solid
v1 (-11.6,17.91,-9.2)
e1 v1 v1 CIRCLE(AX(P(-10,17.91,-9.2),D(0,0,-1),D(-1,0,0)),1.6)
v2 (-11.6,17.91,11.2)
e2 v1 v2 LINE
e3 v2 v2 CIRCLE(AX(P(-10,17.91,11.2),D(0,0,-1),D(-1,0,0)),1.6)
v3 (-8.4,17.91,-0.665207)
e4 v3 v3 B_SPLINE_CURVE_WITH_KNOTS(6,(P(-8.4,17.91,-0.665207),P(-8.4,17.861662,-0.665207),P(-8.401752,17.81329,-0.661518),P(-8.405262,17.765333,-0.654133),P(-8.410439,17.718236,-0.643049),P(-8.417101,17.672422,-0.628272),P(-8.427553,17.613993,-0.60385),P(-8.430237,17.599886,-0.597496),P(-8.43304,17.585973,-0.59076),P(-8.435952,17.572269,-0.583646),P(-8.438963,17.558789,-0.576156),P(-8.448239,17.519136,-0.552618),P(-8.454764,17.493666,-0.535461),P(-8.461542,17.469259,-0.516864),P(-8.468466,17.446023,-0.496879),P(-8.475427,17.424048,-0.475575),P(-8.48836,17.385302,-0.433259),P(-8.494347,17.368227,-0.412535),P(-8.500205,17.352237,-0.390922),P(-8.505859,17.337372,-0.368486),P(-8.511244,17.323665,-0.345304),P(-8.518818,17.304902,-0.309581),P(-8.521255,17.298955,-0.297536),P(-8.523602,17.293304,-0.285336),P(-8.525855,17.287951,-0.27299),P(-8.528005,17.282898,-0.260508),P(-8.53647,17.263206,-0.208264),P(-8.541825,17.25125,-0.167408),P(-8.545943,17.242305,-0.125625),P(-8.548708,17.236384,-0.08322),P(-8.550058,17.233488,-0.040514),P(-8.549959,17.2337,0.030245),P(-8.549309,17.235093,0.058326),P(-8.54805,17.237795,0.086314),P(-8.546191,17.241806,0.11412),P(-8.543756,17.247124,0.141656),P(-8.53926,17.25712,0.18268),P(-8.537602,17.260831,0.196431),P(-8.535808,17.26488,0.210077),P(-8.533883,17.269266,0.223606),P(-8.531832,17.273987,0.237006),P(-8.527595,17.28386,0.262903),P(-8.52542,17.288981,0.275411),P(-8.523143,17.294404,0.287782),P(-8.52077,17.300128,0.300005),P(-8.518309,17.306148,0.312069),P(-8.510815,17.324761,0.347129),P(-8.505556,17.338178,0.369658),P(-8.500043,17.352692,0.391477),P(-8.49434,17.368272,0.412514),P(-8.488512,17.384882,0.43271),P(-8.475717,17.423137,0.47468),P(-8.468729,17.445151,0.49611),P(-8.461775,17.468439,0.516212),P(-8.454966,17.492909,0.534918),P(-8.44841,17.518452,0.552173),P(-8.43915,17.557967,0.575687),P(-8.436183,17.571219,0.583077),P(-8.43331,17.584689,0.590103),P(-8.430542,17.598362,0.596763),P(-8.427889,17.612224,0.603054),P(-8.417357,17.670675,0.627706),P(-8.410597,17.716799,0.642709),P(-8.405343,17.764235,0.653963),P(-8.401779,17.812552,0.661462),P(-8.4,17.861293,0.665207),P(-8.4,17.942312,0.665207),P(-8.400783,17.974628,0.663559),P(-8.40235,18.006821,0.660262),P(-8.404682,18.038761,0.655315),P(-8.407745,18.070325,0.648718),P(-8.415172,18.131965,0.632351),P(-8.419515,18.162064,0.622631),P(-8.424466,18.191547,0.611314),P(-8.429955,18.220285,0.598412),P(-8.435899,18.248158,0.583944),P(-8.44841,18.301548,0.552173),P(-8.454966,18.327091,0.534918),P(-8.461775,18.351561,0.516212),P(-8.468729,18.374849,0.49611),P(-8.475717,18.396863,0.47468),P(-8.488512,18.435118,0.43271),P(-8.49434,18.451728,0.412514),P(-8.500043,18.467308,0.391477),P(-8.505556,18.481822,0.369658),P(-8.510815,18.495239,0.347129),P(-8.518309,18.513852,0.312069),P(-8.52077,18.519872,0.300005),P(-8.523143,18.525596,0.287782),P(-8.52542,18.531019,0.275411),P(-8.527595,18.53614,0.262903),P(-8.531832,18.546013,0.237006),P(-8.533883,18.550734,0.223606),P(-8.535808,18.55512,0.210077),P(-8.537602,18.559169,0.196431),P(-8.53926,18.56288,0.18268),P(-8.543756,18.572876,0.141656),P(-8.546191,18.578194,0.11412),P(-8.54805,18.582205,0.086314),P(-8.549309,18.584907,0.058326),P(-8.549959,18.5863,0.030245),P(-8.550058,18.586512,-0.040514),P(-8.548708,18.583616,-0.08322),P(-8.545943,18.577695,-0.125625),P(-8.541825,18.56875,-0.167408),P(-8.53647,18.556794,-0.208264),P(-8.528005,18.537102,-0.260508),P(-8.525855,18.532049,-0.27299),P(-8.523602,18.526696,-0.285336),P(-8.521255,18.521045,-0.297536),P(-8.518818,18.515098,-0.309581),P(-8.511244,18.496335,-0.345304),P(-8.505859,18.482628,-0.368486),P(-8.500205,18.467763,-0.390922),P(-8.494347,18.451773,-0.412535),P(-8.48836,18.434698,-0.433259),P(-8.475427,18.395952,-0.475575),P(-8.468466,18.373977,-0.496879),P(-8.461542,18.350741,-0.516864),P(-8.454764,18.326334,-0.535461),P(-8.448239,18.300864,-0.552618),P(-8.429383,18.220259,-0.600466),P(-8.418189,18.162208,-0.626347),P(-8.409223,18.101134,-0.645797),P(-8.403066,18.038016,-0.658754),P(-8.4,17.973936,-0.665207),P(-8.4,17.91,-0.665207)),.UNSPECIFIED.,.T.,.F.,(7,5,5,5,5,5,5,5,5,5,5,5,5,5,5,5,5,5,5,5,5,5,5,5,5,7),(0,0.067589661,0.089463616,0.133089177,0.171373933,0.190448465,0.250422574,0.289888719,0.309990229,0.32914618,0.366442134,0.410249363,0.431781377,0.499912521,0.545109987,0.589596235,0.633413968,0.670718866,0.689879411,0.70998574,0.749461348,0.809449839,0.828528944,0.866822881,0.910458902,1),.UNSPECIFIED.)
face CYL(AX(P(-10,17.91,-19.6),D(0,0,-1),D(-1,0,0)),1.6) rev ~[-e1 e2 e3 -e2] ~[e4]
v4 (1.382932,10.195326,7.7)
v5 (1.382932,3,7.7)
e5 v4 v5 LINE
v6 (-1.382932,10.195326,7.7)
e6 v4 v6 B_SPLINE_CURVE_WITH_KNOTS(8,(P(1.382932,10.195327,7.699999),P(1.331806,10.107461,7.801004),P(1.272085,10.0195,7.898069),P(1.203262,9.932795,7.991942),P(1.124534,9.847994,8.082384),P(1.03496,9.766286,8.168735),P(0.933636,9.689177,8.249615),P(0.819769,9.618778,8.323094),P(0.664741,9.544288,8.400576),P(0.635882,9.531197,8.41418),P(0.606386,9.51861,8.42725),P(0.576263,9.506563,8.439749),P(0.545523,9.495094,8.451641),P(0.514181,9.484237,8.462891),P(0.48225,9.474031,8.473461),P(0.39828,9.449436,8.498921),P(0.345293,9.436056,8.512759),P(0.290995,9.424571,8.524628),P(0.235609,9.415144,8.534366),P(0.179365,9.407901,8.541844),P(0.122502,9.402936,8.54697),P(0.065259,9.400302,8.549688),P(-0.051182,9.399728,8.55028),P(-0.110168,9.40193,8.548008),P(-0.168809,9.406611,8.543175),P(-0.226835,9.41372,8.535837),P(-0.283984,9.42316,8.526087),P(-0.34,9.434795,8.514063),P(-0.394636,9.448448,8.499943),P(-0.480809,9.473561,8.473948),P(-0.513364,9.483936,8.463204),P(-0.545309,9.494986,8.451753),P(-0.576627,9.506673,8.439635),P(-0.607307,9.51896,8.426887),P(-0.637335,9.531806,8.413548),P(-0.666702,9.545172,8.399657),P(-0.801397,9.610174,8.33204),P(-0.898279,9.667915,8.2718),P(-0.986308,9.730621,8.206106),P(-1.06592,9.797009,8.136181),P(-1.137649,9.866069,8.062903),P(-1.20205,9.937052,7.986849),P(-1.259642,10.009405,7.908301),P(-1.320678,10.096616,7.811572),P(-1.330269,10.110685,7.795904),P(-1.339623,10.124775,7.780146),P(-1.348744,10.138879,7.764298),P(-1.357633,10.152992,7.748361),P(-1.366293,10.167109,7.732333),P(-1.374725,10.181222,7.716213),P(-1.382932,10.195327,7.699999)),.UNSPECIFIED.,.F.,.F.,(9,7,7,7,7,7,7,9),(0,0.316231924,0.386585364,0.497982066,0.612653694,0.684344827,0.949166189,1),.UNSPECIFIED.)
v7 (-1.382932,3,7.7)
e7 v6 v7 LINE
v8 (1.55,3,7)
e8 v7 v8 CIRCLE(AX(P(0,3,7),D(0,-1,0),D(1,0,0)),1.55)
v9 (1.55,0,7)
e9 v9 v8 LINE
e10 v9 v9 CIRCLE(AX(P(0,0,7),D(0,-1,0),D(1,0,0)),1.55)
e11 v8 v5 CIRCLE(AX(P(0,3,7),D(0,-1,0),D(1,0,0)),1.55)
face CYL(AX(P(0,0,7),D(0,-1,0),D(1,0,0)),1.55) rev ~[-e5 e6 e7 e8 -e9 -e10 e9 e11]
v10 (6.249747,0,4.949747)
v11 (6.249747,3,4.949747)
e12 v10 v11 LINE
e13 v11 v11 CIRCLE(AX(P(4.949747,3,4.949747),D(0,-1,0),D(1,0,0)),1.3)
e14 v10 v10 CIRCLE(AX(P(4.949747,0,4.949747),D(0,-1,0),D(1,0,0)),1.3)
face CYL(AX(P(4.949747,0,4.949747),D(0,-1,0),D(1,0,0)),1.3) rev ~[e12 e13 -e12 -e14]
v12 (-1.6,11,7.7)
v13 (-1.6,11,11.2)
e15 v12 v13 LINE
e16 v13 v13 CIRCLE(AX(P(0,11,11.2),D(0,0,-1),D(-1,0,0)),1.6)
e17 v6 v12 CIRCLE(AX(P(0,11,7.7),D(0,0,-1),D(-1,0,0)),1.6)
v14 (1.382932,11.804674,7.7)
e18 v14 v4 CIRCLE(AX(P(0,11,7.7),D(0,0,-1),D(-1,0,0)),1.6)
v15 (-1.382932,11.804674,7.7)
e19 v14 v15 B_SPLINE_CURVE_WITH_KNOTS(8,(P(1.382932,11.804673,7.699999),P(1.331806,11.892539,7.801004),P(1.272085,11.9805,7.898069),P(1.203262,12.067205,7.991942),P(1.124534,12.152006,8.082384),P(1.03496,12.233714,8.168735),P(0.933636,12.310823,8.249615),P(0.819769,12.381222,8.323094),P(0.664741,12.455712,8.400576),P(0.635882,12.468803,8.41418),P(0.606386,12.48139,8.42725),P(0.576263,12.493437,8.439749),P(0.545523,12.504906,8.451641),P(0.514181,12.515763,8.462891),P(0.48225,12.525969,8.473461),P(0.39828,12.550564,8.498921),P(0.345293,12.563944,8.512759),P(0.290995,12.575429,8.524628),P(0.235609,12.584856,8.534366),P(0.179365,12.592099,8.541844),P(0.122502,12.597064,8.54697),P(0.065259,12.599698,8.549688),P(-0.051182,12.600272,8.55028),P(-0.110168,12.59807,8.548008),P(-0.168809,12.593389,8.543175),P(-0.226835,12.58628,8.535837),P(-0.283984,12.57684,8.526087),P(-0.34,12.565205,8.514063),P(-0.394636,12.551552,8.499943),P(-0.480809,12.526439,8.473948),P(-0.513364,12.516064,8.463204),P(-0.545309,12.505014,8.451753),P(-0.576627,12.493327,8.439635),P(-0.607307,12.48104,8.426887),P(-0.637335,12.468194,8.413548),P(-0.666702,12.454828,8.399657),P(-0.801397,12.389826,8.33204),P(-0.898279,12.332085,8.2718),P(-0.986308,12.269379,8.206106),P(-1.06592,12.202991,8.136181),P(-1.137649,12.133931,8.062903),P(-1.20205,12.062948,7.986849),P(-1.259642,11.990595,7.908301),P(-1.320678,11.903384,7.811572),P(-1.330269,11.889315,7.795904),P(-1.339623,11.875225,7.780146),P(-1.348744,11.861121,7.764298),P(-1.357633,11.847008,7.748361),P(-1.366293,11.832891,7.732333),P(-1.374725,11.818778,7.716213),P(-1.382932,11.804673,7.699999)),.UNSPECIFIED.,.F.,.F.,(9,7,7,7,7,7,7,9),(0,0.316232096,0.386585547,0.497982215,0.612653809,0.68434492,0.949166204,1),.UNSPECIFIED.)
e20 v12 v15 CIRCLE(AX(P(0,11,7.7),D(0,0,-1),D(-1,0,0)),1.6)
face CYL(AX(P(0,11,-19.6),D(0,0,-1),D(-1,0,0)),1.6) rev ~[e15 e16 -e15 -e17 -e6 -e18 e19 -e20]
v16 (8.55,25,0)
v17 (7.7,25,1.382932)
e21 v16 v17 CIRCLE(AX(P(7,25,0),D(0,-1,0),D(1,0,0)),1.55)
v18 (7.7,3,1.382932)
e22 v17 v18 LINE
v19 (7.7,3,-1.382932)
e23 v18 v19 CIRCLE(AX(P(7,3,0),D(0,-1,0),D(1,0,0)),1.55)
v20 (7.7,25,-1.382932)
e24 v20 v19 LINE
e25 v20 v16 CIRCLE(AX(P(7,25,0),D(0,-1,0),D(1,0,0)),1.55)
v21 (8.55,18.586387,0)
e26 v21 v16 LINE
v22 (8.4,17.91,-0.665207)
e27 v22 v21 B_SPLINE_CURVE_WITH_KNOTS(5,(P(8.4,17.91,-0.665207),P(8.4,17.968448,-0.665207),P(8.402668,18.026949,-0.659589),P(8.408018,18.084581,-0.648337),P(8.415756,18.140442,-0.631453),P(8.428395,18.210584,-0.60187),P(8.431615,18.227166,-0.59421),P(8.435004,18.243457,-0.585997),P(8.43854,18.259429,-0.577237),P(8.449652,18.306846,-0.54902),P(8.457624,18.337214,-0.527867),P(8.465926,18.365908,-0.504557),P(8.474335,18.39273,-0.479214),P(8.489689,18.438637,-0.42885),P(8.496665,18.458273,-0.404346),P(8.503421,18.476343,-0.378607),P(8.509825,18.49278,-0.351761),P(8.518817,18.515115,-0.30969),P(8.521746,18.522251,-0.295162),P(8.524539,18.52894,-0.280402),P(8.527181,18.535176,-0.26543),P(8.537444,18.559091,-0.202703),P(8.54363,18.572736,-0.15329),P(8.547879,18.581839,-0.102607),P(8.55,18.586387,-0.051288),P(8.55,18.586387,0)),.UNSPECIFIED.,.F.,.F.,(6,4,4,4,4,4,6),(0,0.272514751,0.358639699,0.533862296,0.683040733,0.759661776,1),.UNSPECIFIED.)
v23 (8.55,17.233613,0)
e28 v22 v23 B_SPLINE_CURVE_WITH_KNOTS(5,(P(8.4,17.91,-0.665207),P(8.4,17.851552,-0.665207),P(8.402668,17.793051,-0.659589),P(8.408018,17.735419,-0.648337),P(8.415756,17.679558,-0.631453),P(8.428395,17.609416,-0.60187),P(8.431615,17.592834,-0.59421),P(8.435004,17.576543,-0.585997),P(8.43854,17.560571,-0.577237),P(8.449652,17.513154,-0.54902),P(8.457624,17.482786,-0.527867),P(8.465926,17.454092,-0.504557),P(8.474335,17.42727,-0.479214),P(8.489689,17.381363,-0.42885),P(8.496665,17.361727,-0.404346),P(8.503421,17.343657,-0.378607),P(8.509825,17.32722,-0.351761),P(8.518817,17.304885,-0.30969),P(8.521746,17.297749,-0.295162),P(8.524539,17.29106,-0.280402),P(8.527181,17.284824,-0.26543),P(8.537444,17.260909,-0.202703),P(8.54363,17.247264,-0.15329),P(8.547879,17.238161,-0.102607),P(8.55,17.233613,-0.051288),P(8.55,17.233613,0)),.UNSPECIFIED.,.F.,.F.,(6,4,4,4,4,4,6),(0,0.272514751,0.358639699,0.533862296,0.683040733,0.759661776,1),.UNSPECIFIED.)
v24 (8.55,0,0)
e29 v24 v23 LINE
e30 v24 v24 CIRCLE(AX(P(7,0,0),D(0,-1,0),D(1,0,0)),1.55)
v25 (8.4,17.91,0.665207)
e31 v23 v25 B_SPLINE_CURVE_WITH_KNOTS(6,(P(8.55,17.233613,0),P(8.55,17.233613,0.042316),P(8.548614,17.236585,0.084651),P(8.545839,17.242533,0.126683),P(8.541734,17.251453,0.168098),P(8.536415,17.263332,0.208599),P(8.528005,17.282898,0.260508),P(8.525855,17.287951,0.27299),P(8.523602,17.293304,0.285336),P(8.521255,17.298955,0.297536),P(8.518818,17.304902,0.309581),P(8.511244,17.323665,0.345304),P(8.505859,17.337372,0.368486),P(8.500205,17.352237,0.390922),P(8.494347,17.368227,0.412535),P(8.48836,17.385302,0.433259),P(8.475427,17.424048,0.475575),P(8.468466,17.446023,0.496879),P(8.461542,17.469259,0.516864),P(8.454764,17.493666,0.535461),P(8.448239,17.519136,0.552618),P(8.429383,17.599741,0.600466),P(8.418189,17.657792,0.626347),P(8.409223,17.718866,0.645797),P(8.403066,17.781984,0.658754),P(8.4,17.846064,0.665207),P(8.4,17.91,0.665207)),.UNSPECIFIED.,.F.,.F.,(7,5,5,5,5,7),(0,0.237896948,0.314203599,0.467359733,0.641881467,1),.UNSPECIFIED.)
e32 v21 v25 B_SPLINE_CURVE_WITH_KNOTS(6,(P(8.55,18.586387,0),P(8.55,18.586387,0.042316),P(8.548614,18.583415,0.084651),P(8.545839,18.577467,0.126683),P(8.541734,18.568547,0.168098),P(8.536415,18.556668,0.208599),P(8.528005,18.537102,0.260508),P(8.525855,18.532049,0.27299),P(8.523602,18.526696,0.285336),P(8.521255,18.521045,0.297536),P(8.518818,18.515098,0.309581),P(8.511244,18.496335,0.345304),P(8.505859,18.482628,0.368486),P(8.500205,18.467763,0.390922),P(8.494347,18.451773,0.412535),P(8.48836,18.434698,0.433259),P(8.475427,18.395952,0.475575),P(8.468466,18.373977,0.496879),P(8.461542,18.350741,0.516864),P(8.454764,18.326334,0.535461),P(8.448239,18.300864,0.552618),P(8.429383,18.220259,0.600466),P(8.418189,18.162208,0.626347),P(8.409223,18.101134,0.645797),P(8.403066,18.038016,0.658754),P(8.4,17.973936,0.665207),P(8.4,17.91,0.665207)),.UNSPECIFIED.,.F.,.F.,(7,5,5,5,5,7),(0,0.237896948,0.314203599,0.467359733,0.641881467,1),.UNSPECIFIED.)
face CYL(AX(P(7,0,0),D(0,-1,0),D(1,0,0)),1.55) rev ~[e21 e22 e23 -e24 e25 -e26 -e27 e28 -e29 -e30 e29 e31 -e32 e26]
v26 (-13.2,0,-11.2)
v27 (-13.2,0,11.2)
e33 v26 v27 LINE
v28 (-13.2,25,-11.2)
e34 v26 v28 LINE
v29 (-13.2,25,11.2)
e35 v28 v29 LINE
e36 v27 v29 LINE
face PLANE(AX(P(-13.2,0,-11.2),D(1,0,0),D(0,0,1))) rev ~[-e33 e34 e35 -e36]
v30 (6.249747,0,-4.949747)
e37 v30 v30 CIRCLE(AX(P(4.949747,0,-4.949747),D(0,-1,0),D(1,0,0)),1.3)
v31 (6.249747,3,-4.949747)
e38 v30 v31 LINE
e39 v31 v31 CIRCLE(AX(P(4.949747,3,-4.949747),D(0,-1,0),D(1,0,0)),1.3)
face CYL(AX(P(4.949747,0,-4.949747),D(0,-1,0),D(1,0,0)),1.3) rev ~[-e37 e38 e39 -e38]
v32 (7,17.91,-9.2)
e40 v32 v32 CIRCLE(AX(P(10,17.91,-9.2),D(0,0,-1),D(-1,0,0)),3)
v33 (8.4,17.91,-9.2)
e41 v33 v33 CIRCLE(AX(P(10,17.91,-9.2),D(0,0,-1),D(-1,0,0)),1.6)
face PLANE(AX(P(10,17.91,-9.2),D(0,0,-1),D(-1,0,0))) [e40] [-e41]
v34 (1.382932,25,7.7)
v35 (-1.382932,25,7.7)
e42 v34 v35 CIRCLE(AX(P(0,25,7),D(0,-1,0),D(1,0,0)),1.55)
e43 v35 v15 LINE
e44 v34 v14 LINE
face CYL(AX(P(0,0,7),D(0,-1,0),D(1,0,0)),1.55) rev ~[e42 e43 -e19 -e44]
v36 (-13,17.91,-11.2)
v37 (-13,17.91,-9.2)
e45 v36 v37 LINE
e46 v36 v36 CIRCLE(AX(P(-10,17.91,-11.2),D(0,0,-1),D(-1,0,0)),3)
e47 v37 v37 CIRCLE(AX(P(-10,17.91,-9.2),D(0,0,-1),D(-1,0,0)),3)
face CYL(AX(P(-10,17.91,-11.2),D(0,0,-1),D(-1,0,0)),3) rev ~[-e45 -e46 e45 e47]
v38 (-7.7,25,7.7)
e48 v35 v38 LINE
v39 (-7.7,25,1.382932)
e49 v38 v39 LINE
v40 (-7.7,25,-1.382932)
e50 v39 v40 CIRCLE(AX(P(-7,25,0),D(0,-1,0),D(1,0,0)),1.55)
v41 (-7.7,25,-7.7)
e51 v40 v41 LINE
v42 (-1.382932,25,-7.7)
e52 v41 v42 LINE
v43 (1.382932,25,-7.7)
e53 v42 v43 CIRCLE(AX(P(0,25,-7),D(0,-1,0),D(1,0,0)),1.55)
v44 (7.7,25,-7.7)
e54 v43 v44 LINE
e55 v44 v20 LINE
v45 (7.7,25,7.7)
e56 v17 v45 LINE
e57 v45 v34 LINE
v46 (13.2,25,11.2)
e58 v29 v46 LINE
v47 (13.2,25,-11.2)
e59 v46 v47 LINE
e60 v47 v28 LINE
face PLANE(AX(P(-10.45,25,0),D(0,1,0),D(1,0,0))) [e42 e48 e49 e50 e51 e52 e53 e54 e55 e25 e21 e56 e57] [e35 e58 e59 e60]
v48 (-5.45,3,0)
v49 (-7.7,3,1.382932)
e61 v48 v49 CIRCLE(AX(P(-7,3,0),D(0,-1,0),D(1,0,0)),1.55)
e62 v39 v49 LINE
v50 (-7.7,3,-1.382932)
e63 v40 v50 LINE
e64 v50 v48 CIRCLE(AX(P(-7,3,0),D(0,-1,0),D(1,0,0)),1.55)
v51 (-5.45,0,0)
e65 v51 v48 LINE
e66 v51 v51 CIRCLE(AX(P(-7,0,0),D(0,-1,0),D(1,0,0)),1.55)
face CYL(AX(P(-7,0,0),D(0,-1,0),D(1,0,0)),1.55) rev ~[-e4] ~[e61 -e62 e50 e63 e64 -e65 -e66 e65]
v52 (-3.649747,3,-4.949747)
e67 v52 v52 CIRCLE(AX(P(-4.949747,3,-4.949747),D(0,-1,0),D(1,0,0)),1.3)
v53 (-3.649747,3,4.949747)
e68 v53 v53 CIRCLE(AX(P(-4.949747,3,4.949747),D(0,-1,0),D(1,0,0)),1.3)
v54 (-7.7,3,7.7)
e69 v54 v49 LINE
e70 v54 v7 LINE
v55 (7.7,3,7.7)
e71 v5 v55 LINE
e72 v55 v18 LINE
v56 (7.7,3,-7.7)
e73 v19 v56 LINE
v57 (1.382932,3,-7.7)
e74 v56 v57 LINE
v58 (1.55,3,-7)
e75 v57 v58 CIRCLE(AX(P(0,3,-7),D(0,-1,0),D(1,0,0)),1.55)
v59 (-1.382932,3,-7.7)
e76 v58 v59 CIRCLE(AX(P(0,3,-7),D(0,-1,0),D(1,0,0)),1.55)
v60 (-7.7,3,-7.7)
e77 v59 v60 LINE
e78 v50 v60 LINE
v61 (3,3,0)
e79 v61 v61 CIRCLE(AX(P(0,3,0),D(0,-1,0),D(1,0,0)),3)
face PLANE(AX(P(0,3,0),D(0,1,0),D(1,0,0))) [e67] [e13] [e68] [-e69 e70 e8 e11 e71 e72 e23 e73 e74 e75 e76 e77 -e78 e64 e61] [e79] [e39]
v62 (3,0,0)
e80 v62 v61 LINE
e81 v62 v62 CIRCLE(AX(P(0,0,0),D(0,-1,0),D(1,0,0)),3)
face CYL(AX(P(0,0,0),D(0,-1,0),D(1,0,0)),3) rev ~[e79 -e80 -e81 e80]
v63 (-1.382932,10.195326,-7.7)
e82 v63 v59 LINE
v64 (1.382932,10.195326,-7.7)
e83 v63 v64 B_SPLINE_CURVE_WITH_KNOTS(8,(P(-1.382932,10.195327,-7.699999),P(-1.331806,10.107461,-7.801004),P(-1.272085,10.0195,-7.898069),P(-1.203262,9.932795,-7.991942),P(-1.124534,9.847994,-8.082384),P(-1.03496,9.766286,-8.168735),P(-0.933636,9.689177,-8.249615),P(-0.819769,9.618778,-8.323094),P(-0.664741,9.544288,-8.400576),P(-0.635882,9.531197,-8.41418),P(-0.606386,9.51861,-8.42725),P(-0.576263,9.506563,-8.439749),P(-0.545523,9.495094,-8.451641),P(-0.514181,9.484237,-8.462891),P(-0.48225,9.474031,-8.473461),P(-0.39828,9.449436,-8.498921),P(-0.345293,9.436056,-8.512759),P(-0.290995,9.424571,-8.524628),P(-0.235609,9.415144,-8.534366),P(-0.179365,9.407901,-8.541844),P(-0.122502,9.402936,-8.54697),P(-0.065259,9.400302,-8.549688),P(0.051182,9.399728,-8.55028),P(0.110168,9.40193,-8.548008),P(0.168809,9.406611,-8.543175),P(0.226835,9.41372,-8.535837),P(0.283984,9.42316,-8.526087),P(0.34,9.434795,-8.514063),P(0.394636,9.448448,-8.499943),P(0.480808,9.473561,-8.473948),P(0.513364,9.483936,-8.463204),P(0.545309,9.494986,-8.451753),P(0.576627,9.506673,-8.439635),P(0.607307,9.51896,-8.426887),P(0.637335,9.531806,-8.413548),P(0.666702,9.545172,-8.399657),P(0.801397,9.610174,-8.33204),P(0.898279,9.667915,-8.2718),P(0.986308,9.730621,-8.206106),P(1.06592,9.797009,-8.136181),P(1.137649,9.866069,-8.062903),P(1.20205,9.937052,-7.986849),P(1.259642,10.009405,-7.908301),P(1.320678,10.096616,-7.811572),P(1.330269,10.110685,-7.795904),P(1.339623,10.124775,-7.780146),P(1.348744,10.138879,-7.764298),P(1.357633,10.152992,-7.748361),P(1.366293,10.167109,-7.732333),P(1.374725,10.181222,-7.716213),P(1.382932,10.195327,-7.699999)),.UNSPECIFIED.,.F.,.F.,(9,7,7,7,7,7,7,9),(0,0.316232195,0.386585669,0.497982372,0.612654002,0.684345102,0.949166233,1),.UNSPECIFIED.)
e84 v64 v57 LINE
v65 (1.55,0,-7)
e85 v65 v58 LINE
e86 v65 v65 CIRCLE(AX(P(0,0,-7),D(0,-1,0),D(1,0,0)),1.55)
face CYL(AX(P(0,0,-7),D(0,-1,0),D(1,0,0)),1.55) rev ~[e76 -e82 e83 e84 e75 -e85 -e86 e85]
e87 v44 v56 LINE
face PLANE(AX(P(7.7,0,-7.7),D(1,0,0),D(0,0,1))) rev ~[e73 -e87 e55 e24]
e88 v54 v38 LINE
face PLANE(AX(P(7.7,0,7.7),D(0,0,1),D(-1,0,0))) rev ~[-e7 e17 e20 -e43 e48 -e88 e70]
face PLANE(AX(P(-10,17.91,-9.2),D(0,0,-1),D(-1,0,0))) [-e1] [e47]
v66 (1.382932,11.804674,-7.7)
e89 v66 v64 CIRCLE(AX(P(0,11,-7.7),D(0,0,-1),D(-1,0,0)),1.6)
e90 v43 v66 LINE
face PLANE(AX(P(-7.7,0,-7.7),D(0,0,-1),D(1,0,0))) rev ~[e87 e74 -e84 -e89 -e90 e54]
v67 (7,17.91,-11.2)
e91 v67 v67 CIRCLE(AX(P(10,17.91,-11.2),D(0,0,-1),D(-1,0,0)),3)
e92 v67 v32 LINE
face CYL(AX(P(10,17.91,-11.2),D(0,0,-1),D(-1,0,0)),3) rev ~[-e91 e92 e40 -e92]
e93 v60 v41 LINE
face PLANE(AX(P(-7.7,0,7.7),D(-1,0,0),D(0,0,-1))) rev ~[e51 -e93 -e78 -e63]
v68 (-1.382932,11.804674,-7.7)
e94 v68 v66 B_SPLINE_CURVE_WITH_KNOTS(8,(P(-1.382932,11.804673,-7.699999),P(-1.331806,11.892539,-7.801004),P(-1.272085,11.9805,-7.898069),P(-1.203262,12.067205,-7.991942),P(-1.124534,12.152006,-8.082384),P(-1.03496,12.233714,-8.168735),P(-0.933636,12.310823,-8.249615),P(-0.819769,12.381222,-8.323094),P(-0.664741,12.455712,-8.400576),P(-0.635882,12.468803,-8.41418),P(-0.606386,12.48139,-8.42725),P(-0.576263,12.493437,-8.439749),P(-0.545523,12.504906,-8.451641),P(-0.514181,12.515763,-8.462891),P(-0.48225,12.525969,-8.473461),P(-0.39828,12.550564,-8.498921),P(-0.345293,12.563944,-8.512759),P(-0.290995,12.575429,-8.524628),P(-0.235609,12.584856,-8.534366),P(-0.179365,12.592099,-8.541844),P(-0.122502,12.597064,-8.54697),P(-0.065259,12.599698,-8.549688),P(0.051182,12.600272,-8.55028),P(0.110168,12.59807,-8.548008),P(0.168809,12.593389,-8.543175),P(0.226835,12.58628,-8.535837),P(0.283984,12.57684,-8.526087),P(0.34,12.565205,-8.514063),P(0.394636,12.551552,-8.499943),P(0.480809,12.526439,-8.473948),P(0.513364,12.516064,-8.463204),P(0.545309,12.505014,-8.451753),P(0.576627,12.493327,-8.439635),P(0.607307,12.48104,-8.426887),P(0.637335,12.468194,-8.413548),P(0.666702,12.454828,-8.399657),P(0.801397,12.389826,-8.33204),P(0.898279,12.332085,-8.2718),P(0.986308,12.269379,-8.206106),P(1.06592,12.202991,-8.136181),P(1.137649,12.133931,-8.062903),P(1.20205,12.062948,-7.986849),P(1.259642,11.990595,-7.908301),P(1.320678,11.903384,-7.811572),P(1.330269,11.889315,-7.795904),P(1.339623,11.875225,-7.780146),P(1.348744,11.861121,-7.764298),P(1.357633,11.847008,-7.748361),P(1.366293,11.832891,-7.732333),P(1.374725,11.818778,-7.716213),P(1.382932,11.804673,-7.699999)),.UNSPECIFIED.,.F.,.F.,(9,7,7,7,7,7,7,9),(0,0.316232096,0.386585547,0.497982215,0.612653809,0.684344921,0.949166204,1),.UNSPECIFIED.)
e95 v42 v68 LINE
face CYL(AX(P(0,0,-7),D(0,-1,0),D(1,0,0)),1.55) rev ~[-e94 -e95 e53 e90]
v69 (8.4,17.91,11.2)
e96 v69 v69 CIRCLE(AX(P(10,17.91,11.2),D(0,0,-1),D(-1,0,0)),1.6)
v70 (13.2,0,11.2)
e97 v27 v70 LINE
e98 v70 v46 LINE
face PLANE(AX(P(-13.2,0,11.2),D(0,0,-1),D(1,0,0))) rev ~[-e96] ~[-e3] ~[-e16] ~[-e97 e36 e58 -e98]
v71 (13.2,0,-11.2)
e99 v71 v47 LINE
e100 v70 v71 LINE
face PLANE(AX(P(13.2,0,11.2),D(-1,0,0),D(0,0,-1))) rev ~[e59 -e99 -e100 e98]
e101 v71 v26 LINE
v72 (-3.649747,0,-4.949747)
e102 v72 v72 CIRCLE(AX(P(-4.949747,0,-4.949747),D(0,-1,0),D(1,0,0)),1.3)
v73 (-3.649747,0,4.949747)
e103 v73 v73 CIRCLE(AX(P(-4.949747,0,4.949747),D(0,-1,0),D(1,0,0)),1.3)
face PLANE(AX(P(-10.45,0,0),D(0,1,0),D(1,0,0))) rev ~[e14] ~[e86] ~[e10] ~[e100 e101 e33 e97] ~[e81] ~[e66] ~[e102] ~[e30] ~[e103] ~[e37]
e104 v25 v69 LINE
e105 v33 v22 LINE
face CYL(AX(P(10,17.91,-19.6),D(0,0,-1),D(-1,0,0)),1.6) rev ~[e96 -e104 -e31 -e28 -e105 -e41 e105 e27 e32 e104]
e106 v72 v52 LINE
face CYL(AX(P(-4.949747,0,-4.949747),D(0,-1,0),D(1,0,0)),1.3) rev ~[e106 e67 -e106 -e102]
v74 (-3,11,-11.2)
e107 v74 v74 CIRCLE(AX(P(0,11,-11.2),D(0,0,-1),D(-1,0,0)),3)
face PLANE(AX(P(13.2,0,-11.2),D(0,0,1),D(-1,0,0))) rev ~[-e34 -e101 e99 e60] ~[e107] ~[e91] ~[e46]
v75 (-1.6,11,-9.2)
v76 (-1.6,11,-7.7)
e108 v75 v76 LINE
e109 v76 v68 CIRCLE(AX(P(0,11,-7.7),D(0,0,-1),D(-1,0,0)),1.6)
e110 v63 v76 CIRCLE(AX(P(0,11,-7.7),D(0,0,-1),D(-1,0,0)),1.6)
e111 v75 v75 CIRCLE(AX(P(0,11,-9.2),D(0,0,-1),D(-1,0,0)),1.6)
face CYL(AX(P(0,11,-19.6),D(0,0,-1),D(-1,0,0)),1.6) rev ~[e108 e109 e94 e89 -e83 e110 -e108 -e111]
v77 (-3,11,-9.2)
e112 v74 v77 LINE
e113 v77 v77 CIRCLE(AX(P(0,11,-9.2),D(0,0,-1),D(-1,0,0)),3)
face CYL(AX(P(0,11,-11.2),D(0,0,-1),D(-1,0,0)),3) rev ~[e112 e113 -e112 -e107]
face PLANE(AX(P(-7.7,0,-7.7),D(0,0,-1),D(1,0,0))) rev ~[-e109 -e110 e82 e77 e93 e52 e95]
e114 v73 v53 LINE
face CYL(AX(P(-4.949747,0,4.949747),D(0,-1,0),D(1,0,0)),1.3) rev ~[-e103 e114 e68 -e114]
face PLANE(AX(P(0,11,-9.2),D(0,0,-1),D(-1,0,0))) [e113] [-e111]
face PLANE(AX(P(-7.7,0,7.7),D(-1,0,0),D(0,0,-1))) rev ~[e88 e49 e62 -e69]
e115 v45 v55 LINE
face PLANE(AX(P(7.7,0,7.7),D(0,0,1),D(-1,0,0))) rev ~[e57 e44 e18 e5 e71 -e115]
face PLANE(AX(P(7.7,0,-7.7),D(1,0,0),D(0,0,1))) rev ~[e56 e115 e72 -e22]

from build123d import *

# Parameters (mm, degrees)
SKETCH_1_W          = 15.4
SKETCH_1_H          = 22.4
EXTRUDE_2_DEPTH     = 3
SKETCH_1_4_W        = 15.4
SKETCH_1_4_H        = 3.5
EXTRUDE_3_DEPTH     = 10
EXTRUDE_3_2_DEPTH   = 10
SKETCH_1_5_W        = 26.4
SKETCH_1_5_H        = 22.4
SKETCH_1_5_W_2      = 15.4
SKETCH_1_5_H_2      = 15.4
EXTRUDE_4_DEPTH     = 25
SKETCH_3_R          = 1.6
CUT_EXTRUDE_2_DEPTH = 42.807654801
SKETCH_9_R          = 1.3
SKETCH_9_R_2        = 3
SKETCH_9_R_3        = 1.55
CUT_EXTRUDE_6_DEPTH = 31.408551429
SKETCH_10_R         = 3
CUT_EXTRUDE_7_DEPTH = 2


with BuildPart() as part:
    # 草图1 → 凸台-拉伸2 (new body)
    with BuildSketch(Plane(origin=(0, 0, 0), x_dir=(1, 0, 0), z_dir=(0, 1, 0))):
        Rectangle(SKETCH_1_W, SKETCH_1_H)
    extrude(amount=EXTRUDE_2_DEPTH)



with BuildPart() as body_2:
    # 草图1<4> → 凸台-拉伸3 (new body)
    with BuildSketch(Plane(origin=(0, 0, 0), x_dir=(1, 0, 0), z_dir=(0, 1, 0))):
        with Locations((0, 9.45)):
            Rectangle(SKETCH_1_4_W, SKETCH_1_4_H)
    extrude(amount=EXTRUDE_3_DEPTH)


with BuildPart() as body_3:
    # 草图1<4> → Extrude 3 2 (new body)
    with BuildSketch(Plane(origin=(0, 0, 0), x_dir=(1, 0, 0), z_dir=(0, 1, 0))):
        with Locations((0, -9.45)):
            Rectangle(SKETCH_1_4_W, SKETCH_1_4_H)
    extrude(amount=EXTRUDE_3_2_DEPTH)


with BuildPart() as part_1:
    add(part.part)

    add(body_2.part)  # 凸台-拉伸4 merges body 2

    add(body_3.part)  # 凸台-拉伸4 merges body 3
    # 草图1<5> → 凸台-拉伸4 (add)
    with BuildSketch(Plane(origin=(0, 0, 0), x_dir=(1, 0, 0), z_dir=(0, 1, 0))):
        Rectangle(SKETCH_1_5_W, SKETCH_1_5_H)
        Rectangle(SKETCH_1_5_W_2, SKETCH_1_5_H_2, mode=Mode.SUBTRACT)
    extrude(amount=EXTRUDE_4_DEPTH)

    # 草图3 → 切除-拉伸2 (cut, through all)
    with BuildSketch(Plane(origin=(0, 0, -19.6), x_dir=(-1, 0, 0), z_dir=(0, 0, -1))):
        with Locations((10, 17.91)):
            Circle(SKETCH_3_R)
        with Locations((0, 11)):
            Circle(SKETCH_3_R)
        with Locations((-10, 17.91)):
            Circle(SKETCH_3_R)
    extrude(amount=-CUT_EXTRUDE_2_DEPTH, mode=Mode.SUBTRACT)

    # 草图9 → 切除-拉伸6 (cut, through all)
    with BuildSketch(Plane.XZ):
        with Locations((-4.949747468, -4.949747468)):
            Circle(SKETCH_9_R)
        with Locations((4.949747468, -4.949747468)):
            Circle(SKETCH_9_R)
        with Locations((4.949747468, 4.949747468)):
            Circle(SKETCH_9_R)
        with Locations((-4.949747468, 4.949747468)):
            Circle(SKETCH_9_R)
        Circle(SKETCH_9_R_2)
        with Locations((7, 0)):
            Circle(SKETCH_9_R_3)
        with Locations((0, 7)):
            Circle(SKETCH_9_R_3)
        with Locations((0, -7)):
            Circle(SKETCH_9_R_3)
        with Locations((-7, 0)):
            Circle(SKETCH_9_R_3)
    extrude(amount=-CUT_EXTRUDE_6_DEPTH, mode=Mode.SUBTRACT)

    # 草图10 → 切除-拉伸7 (cut)
    with BuildSketch(Plane(origin=(0, 0, -11.2), x_dir=(-1, 0, 0), z_dir=(0, 0, -1))):
        with Locations((10, 17.91)):
            Circle(SKETCH_10_R)
        with Locations((0, 11)):
            Circle(SKETCH_10_R)
        with Locations((-10, 17.91)):
            Circle(SKETCH_10_R)
    extrude(amount=-CUT_EXTRUDE_7_DEPTH, mode=Mode.SUBTRACT)


solid = part_1.part
